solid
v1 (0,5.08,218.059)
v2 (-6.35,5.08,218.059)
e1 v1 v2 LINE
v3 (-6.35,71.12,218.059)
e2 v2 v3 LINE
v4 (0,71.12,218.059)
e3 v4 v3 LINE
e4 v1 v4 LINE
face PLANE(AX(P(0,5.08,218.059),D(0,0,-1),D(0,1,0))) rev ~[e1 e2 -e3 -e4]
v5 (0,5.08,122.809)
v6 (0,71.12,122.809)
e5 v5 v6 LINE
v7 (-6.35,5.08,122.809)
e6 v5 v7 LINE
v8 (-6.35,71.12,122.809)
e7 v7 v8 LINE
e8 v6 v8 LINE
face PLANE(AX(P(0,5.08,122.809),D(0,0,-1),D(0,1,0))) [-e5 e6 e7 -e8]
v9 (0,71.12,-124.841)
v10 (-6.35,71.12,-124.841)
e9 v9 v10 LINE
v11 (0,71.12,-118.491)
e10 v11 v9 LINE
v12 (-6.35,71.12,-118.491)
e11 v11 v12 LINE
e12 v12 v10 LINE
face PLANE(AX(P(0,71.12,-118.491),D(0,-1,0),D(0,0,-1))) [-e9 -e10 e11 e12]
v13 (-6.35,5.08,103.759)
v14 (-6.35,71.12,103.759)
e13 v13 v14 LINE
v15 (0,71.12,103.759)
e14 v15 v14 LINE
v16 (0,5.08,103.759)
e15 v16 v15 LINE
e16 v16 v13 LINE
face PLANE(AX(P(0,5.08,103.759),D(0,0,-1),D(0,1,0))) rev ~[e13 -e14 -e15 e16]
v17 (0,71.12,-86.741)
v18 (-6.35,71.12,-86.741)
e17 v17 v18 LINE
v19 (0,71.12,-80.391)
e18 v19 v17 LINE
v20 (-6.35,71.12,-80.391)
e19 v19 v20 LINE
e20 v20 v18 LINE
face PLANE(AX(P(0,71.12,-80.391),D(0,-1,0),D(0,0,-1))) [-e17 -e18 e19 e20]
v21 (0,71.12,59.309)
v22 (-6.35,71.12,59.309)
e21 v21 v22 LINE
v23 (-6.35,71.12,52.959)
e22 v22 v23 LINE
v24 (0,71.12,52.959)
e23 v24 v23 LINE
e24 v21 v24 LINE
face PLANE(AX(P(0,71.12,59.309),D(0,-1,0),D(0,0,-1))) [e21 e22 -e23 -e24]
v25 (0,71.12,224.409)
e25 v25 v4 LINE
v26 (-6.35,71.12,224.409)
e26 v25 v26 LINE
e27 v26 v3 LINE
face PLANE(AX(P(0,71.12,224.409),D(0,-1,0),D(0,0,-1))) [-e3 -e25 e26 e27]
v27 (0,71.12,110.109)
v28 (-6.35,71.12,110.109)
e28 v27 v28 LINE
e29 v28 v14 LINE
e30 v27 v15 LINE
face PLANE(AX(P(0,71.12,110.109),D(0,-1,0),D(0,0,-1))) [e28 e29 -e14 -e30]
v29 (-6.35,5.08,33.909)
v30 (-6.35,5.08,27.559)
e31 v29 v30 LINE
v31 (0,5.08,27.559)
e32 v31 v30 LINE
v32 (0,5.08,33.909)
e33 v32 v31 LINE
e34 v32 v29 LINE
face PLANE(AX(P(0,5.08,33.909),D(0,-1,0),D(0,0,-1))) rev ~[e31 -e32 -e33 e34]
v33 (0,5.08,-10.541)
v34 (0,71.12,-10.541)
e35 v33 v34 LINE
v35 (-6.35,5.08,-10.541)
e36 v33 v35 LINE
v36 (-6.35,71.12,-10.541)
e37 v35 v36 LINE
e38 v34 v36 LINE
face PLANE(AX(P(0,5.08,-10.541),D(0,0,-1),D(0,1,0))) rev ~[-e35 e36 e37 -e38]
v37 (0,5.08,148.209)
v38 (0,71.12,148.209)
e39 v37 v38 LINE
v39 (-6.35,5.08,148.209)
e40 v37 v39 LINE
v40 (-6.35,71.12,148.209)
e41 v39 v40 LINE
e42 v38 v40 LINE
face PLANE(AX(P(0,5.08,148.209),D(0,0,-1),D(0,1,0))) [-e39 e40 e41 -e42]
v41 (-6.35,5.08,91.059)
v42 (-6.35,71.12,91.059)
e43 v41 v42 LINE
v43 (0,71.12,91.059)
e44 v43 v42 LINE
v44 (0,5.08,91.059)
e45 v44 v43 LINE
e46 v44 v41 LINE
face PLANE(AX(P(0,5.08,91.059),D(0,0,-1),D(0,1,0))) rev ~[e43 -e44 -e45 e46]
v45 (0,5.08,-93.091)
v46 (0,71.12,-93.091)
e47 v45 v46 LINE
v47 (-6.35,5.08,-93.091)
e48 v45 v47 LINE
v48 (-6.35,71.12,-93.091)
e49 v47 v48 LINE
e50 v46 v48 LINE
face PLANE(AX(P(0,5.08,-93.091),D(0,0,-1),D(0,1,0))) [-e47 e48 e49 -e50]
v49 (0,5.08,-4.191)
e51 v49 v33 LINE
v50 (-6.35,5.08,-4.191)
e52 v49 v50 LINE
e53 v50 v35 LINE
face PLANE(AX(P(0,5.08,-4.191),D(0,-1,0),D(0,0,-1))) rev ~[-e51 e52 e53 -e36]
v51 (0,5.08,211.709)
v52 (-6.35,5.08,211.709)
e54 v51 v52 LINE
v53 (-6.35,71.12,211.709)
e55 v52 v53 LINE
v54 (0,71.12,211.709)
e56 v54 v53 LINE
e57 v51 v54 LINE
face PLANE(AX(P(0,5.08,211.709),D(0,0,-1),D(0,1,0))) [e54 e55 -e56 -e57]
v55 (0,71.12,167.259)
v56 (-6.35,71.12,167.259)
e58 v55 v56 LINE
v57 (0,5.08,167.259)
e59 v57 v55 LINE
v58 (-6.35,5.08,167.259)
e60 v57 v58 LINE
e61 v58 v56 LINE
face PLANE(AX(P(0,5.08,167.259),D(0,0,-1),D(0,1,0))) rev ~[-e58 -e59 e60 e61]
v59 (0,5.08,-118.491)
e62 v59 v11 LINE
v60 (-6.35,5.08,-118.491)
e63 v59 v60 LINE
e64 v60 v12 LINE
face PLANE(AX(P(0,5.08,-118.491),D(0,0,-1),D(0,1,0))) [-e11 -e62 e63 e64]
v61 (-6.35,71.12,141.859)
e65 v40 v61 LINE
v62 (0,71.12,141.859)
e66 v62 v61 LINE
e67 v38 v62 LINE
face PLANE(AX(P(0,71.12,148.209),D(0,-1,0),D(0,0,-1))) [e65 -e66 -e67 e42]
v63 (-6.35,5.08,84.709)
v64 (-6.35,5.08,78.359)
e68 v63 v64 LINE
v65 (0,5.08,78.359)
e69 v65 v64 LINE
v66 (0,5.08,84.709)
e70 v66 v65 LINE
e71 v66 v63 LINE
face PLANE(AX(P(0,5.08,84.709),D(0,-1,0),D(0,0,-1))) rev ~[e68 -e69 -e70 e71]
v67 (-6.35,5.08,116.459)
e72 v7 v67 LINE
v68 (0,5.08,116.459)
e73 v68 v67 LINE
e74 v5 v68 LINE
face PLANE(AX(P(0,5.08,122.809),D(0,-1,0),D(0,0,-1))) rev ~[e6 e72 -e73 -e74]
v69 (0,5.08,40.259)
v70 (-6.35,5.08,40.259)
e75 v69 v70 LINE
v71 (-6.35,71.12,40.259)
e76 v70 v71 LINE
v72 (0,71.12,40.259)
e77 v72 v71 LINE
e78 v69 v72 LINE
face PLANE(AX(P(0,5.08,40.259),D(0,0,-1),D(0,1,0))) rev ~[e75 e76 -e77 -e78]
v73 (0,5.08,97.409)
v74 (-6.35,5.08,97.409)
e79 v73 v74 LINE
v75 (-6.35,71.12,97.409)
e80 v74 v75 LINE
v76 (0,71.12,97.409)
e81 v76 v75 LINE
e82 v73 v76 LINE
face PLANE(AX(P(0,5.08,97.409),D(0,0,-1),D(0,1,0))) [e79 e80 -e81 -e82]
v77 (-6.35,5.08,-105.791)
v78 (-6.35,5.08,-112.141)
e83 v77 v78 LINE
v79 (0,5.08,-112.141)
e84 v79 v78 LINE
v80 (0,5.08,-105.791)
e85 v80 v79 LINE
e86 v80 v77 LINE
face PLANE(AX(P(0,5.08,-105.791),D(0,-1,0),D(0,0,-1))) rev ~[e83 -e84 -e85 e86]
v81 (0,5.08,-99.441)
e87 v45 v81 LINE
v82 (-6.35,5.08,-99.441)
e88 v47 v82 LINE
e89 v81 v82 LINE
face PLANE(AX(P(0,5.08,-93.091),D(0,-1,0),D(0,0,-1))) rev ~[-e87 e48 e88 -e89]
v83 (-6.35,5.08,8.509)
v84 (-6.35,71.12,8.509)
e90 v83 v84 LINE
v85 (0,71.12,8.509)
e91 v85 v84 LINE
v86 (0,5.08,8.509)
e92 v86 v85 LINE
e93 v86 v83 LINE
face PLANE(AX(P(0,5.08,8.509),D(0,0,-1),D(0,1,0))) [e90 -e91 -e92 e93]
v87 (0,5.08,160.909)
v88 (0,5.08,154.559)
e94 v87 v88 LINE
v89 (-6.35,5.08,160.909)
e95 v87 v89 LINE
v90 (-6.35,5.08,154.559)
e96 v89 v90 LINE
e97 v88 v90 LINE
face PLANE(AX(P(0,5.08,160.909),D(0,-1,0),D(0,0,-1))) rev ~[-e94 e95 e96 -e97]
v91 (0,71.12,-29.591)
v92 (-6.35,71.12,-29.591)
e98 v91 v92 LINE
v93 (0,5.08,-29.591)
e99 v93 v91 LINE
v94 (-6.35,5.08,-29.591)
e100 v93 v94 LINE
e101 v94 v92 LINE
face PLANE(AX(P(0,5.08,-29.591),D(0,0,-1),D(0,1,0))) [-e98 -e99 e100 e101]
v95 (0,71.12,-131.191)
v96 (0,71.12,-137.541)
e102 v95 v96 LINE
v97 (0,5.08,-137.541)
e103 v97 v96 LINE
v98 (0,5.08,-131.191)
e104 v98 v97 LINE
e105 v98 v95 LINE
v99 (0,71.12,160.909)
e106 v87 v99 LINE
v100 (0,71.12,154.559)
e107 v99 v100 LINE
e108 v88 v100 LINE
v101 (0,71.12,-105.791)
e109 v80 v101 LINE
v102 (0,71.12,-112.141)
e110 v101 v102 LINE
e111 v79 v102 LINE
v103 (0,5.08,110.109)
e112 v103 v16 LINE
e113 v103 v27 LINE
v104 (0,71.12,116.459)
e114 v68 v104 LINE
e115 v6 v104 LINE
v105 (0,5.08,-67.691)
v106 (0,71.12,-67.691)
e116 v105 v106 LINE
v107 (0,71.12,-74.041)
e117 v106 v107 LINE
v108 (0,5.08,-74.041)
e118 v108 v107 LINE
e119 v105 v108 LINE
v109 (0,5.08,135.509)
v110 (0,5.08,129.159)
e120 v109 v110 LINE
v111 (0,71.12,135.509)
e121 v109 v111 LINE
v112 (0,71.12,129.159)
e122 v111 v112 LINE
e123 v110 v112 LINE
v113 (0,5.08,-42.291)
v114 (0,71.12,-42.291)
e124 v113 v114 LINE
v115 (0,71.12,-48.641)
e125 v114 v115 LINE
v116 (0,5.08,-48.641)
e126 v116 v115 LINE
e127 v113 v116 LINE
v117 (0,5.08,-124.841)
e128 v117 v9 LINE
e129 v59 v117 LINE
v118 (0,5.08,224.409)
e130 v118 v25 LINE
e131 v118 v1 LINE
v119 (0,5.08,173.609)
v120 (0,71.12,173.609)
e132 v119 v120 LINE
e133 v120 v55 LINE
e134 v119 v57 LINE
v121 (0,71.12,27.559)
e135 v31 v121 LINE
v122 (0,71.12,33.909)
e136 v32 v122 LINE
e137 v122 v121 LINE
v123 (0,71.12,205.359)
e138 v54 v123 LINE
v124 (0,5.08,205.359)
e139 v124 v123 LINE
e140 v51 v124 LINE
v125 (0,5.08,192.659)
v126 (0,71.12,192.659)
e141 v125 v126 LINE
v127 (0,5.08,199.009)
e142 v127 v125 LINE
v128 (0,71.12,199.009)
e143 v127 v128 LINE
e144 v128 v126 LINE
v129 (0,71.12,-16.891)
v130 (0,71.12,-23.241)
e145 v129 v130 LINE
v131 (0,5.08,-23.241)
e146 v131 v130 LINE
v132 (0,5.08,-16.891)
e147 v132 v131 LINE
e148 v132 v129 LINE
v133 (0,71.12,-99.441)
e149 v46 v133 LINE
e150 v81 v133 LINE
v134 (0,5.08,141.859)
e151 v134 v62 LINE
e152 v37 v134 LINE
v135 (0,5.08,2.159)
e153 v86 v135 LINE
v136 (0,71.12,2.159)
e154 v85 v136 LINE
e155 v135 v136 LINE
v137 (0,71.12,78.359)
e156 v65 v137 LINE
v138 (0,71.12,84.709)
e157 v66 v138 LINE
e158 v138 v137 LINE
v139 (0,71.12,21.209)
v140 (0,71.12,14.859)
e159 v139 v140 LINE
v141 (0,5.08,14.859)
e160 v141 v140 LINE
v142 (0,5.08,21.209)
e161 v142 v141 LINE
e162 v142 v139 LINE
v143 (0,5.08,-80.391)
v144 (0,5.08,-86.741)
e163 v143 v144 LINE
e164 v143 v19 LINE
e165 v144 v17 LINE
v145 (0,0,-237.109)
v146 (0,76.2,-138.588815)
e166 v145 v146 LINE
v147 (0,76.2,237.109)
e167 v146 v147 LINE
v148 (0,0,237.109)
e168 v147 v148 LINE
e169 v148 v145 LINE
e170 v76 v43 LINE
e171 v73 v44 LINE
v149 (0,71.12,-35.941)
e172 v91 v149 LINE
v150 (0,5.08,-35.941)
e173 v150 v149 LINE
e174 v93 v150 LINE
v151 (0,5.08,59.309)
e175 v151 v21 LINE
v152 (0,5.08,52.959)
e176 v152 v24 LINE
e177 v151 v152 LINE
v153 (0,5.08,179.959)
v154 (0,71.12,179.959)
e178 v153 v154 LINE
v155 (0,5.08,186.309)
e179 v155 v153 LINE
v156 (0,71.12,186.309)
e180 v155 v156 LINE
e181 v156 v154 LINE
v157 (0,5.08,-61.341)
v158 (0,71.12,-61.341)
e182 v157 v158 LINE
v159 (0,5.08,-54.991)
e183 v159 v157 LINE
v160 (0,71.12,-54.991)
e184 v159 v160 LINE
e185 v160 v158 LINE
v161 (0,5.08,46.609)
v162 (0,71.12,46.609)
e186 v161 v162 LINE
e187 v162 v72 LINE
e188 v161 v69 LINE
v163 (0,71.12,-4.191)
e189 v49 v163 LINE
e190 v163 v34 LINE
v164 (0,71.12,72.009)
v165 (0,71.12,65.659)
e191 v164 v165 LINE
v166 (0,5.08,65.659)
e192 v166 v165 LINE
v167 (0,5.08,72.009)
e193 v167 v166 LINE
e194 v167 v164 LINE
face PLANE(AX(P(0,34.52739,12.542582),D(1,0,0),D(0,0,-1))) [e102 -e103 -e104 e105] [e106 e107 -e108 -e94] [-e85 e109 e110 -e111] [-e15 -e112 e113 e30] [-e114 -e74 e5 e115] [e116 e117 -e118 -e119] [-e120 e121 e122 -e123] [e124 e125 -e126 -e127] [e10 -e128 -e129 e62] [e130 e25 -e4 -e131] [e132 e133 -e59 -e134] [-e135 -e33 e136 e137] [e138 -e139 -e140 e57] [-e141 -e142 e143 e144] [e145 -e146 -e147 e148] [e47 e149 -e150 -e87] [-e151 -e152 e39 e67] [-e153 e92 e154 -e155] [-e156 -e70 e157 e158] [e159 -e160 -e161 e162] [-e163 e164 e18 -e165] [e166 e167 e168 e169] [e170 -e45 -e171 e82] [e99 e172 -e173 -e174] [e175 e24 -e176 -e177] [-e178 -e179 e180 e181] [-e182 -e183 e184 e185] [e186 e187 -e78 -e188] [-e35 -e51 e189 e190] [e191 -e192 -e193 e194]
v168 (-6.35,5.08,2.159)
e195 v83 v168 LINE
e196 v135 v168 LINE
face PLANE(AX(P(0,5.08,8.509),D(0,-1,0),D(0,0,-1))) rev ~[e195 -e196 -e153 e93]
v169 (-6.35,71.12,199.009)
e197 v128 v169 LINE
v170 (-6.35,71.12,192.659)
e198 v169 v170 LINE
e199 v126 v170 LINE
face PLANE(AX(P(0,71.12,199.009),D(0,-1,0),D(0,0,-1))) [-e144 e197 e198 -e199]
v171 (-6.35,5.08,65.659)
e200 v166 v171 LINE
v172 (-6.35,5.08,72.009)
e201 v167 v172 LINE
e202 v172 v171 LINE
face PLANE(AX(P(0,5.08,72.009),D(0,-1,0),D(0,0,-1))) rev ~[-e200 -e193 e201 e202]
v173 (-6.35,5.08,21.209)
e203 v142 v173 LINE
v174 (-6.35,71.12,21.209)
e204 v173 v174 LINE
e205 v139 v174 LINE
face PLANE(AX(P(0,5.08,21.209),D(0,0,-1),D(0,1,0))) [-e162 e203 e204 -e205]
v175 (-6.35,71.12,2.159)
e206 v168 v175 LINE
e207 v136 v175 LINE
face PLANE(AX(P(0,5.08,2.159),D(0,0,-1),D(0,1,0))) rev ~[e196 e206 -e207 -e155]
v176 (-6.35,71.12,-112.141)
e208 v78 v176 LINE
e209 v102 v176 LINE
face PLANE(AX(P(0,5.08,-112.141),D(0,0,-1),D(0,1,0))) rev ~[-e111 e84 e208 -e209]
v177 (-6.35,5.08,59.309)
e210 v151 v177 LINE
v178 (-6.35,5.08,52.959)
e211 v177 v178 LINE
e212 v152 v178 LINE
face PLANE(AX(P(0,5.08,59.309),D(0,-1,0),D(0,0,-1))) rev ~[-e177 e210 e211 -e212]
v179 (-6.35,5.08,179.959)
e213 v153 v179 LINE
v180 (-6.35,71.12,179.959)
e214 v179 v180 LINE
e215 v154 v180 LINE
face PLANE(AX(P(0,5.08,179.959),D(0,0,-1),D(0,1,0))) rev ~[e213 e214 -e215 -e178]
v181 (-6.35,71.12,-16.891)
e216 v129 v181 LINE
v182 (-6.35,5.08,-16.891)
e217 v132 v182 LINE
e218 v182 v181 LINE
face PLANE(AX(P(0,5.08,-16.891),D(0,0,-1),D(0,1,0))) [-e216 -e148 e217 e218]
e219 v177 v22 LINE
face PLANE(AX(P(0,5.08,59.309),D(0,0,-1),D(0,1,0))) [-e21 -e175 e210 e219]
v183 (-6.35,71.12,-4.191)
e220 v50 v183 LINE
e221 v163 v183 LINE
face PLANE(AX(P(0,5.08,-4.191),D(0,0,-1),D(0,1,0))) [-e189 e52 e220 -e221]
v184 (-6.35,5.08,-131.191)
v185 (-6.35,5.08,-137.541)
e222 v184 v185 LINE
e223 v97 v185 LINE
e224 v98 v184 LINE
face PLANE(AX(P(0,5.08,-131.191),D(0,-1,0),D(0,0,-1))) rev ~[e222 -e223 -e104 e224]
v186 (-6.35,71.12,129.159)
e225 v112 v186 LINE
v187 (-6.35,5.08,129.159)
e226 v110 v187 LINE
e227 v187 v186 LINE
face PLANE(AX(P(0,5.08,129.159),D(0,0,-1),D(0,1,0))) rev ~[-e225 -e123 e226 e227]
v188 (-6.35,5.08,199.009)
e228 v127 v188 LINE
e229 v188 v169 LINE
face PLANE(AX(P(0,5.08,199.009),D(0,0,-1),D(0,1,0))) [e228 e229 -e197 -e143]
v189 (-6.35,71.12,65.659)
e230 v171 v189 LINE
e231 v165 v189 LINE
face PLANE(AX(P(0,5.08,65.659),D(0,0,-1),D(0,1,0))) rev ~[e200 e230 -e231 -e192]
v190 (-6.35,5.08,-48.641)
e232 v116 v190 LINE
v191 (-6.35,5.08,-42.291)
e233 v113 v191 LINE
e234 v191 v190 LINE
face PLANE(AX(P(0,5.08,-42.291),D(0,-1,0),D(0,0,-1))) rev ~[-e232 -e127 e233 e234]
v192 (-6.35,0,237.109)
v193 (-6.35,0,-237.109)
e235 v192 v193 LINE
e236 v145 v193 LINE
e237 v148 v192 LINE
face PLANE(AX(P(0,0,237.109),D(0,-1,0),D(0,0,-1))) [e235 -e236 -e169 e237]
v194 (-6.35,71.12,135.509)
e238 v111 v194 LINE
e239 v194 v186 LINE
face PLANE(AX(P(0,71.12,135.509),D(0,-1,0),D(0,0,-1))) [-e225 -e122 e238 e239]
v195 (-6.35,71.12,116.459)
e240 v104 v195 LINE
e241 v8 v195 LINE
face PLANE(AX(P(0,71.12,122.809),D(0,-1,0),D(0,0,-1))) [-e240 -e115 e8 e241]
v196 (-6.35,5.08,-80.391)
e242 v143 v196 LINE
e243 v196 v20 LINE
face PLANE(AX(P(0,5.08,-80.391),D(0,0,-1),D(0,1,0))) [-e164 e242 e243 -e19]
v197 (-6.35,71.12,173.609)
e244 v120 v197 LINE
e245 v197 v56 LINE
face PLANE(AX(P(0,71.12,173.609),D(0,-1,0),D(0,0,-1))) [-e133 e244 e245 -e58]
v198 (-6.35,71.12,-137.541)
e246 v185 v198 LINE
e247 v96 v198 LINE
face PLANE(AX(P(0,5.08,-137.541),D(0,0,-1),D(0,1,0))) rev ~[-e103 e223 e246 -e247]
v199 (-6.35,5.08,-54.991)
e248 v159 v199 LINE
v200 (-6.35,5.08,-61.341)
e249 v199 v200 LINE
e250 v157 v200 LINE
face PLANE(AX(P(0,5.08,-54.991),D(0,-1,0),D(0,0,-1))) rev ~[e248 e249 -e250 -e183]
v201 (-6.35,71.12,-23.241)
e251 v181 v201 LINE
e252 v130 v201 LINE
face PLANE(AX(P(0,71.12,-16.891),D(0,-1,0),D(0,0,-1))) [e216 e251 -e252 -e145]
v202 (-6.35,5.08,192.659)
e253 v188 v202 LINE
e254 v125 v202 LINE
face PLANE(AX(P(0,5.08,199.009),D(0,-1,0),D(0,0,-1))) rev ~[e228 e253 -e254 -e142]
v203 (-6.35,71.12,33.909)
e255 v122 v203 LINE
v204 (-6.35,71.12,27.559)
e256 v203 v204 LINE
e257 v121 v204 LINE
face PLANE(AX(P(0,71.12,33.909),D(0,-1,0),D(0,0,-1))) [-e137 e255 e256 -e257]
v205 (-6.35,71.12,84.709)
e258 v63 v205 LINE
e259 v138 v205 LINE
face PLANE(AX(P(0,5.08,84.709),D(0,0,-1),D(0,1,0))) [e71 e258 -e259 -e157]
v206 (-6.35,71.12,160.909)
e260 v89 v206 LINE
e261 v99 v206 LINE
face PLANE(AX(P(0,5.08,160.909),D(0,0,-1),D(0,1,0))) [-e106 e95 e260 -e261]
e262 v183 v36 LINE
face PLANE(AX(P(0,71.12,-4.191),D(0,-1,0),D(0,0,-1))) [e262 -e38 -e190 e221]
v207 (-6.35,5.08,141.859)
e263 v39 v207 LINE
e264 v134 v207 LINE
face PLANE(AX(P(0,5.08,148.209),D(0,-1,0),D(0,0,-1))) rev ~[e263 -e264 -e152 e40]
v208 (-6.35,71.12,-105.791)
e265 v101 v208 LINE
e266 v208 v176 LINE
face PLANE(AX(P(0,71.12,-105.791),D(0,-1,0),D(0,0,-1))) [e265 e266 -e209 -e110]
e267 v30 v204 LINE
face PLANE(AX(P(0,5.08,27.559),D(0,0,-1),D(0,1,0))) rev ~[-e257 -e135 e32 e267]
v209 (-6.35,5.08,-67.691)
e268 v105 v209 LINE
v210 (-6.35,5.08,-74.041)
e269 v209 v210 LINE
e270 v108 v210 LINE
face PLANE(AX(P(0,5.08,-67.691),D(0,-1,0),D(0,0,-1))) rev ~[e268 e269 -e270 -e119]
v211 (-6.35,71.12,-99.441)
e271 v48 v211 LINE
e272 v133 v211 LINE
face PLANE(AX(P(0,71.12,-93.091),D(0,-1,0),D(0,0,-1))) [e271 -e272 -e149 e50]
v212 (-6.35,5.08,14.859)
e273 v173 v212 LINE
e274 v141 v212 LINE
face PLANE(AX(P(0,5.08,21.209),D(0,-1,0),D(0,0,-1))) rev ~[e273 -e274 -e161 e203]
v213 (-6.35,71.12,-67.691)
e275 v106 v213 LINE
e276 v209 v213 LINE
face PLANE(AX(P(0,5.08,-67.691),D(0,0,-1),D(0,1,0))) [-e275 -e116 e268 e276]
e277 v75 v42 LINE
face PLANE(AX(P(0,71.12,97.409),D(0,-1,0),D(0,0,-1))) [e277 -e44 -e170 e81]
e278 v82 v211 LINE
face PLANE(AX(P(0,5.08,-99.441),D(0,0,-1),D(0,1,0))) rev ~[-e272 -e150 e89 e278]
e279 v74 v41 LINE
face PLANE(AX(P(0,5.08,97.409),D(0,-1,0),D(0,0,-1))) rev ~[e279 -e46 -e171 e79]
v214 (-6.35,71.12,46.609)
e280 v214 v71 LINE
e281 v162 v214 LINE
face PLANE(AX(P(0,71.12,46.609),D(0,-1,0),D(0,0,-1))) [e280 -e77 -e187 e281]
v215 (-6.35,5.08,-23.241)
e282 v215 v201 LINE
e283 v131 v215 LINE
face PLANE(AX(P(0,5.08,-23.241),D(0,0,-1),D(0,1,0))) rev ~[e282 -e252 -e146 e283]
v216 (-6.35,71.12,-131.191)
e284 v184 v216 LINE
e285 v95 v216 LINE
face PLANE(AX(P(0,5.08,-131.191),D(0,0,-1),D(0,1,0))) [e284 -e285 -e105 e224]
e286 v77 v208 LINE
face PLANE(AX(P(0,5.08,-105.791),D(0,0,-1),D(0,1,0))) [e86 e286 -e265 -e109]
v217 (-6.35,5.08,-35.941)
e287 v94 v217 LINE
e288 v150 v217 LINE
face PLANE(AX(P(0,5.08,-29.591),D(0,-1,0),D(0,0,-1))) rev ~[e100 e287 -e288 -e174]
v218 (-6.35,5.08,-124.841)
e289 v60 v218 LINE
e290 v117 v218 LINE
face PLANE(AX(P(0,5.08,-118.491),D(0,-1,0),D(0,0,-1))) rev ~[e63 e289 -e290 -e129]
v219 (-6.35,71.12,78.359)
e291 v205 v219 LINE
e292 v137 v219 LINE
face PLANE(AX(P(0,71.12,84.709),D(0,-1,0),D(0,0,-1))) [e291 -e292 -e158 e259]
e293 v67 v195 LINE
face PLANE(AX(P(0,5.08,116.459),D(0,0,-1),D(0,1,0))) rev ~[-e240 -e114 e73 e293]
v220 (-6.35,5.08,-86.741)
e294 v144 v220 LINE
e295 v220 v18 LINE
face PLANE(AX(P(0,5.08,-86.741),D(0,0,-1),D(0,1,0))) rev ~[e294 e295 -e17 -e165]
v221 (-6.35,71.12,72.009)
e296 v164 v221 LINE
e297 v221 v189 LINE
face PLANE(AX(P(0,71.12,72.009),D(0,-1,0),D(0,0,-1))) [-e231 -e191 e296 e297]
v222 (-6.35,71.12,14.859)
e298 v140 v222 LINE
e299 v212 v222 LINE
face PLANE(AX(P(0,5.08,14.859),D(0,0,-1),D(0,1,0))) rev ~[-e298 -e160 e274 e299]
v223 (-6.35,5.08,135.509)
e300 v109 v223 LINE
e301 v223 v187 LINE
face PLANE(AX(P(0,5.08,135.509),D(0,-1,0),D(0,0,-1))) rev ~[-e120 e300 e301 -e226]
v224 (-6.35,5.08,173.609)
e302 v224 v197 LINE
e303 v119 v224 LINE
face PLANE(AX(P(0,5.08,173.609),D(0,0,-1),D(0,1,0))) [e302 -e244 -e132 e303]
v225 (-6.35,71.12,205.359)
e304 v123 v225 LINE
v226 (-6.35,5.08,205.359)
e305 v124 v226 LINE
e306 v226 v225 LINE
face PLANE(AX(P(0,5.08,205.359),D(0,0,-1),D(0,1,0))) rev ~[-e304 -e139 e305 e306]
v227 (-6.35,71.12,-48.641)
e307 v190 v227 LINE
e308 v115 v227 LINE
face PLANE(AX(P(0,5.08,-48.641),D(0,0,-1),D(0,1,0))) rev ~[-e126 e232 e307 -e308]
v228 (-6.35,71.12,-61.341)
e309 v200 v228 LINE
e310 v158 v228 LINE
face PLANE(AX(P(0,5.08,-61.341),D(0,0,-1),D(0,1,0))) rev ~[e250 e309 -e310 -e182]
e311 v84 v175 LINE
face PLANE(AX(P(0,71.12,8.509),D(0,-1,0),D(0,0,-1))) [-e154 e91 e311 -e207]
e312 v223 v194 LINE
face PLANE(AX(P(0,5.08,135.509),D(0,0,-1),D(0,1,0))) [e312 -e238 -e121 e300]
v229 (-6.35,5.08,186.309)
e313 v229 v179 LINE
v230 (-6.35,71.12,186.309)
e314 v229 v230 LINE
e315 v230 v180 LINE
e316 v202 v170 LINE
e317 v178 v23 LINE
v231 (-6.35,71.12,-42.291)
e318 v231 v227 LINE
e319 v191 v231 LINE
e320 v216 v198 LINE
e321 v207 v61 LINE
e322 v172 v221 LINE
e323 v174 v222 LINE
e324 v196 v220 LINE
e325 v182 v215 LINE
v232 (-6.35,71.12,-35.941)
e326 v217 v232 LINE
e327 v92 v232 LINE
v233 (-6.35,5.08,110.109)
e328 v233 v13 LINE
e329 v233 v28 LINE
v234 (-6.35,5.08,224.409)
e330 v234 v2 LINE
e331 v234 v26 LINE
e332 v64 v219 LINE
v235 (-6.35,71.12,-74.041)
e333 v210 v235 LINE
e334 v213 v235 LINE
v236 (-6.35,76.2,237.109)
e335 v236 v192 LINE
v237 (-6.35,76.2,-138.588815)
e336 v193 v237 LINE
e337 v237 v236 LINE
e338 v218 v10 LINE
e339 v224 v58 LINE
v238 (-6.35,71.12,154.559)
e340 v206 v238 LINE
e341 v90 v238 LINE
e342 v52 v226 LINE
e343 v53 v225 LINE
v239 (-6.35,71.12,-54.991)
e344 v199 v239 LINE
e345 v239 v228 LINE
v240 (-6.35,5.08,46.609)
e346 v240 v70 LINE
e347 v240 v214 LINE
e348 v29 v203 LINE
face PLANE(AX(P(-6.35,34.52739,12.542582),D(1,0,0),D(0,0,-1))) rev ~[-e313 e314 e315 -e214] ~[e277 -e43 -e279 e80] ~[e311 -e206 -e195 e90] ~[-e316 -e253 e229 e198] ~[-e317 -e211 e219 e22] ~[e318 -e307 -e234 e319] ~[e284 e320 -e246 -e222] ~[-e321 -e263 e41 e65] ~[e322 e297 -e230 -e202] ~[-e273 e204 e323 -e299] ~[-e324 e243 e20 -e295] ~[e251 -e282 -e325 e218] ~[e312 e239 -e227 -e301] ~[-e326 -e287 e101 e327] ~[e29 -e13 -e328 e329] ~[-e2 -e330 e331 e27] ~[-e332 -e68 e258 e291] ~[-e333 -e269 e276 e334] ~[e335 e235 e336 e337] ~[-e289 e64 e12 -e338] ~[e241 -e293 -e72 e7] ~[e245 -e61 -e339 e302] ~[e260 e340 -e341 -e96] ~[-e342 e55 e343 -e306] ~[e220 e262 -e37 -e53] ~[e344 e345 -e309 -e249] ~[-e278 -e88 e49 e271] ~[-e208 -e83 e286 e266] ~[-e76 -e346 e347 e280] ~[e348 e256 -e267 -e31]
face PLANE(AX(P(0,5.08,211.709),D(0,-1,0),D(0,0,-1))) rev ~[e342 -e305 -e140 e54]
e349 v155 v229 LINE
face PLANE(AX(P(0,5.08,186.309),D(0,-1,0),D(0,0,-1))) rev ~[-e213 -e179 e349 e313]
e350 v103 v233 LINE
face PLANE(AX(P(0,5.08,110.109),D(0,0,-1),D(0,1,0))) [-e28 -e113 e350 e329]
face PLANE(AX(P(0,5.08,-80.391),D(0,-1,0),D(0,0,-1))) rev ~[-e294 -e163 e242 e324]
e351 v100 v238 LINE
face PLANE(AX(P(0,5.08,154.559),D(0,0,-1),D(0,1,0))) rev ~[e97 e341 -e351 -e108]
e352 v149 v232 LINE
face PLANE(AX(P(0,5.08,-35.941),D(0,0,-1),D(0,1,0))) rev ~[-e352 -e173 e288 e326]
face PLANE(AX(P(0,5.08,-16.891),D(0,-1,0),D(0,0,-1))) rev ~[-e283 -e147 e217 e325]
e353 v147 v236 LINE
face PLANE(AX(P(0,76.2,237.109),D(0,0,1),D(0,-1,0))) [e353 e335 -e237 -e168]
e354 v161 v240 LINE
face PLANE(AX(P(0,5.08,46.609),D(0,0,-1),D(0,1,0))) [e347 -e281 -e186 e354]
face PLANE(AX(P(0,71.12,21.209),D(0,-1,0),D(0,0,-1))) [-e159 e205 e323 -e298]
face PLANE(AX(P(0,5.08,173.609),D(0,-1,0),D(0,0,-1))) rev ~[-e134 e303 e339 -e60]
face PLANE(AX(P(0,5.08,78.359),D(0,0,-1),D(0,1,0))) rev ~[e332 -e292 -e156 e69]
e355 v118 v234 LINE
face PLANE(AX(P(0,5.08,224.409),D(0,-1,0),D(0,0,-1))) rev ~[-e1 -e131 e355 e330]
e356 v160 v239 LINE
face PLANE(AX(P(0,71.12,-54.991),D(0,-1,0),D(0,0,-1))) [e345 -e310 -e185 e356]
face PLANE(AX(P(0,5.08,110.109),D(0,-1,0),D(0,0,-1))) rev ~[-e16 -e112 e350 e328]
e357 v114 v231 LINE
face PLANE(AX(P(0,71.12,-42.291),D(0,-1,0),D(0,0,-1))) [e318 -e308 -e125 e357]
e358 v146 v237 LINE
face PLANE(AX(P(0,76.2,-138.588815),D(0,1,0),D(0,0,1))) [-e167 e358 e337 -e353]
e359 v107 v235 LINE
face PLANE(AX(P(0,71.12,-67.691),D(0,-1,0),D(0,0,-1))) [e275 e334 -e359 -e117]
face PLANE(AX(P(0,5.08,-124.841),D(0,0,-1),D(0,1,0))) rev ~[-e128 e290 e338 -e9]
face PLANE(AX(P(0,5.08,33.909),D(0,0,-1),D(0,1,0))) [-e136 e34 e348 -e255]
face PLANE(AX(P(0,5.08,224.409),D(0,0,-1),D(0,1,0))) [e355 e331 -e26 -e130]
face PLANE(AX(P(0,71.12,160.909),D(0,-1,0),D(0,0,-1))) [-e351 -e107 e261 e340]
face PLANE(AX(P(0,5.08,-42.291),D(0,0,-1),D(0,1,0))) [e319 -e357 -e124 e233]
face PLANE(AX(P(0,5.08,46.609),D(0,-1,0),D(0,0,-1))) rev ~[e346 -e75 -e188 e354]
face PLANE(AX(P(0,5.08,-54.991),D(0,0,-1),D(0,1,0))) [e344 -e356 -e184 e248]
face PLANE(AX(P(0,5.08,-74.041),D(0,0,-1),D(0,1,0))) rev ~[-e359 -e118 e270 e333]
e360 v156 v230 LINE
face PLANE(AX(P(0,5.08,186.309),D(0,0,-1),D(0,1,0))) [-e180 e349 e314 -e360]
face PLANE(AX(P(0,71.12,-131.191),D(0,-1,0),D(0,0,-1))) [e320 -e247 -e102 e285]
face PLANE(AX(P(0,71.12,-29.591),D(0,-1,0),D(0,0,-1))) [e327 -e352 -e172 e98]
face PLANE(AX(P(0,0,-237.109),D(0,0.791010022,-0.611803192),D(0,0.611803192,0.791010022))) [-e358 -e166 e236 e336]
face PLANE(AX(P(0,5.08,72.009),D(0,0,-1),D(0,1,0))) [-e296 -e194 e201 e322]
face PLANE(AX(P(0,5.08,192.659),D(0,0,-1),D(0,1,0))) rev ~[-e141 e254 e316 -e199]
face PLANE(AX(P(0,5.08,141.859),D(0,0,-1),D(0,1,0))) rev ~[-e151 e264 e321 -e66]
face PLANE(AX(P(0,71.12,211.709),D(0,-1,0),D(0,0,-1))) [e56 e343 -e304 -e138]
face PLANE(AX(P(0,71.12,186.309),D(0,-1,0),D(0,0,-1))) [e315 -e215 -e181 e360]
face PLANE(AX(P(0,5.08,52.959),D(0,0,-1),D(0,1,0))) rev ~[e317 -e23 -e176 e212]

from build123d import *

# Parameters (mm, degrees)
SKETCH1_W           = 6.35
SKETCH1_H           = 66.04
BOSS_EXTRUDE1_DEPTH = 6.35


with BuildPart() as part:
    # Sketch1 → Boss-Extrude1 (new body)
    with BuildSketch(Plane(origin=(0, 0, 0), x_dir=(0, 0, -1), z_dir=(1, 0, 0))):
        Polygon((-237.109, 0), (237.109, 0), (138.588815033, 76.2), (-237.109, 76.2), align=None)
        with Locations((-208.534, 38.1)):
            Rectangle(SKETCH1_W, SKETCH1_H, mode=Mode.SUBTRACT)
        with Locations((-221.234, 38.1)):
            Rectangle(SKETCH1_W, SKETCH1_H, mode=Mode.SUBTRACT)
        with Locations((-195.834, 38.1)):
            Rectangle(SKETCH1_W, SKETCH1_H, mode=Mode.SUBTRACT)
        with Locations((-183.134, 38.1)):
            Rectangle(SKETCH1_W, SKETCH1_H, mode=Mode.SUBTRACT)
        with Locations((-170.434, 38.1)):
            Rectangle(SKETCH1_W, SKETCH1_H, mode=Mode.SUBTRACT)
        with Locations((-157.734, 38.1)):
            Rectangle(SKETCH1_W, SKETCH1_H, mode=Mode.SUBTRACT)
        with Locations((-145.034, 38.1)):
            Rectangle(SKETCH1_W, SKETCH1_H, mode=Mode.SUBTRACT)
        with Locations((-132.334, 38.1)):
            Rectangle(SKETCH1_W, SKETCH1_H, mode=Mode.SUBTRACT)
        with Locations((-119.634, 38.1)):
            Rectangle(SKETCH1_W, SKETCH1_H, mode=Mode.SUBTRACT)
        with Locations((-106.934, 38.1)):
            Rectangle(SKETCH1_W, SKETCH1_H, mode=Mode.SUBTRACT)
        with Locations((-94.234, 38.1)):
            Rectangle(SKETCH1_W, SKETCH1_H, mode=Mode.SUBTRACT)
        with Locations((-81.534, 38.1)):
            Rectangle(SKETCH1_W, SKETCH1_H, mode=Mode.SUBTRACT)
        with Locations((-68.834, 38.1)):
            Rectangle(SKETCH1_W, SKETCH1_H, mode=Mode.SUBTRACT)
        with Locations((-56.134, 38.1)):
            Rectangle(SKETCH1_W, SKETCH1_H, mode=Mode.SUBTRACT)
        with Locations((-43.434, 38.1)):
            Rectangle(SKETCH1_W, SKETCH1_H, mode=Mode.SUBTRACT)
        with Locations((-30.734, 38.1)):
            Rectangle(SKETCH1_W, SKETCH1_H, mode=Mode.SUBTRACT)
        with Locations((-18.034, 38.1)):
            Rectangle(SKETCH1_W, SKETCH1_H, mode=Mode.SUBTRACT)
        with Locations((-5.334, 38.1)):
            Rectangle(SKETCH1_W, SKETCH1_H, mode=Mode.SUBTRACT)
        with Locations((7.366, 38.1)):
            Rectangle(SKETCH1_W, SKETCH1_H, mode=Mode.SUBTRACT)
        with Locations((20.066, 38.1)):
            Rectangle(SKETCH1_W, SKETCH1_H, mode=Mode.SUBTRACT)
        with Locations((32.766, 38.1)):
            Rectangle(SKETCH1_W, SKETCH1_H, mode=Mode.SUBTRACT)
        with Locations((45.466, 38.1)):
            Rectangle(SKETCH1_W, SKETCH1_H, mode=Mode.SUBTRACT)
        with Locations((58.166, 38.1)):
            Rectangle(SKETCH1_W, SKETCH1_H, mode=Mode.SUBTRACT)
        with Locations((70.866, 38.1)):
            Rectangle(SKETCH1_W, SKETCH1_H, mode=Mode.SUBTRACT)
        with Locations((83.566, 38.1)):
            Rectangle(SKETCH1_W, SKETCH1_H, mode=Mode.SUBTRACT)
        with Locations((96.266, 38.1)):
            Rectangle(SKETCH1_W, SKETCH1_H, mode=Mode.SUBTRACT)
        with Locations((108.966, 38.1)):
            Rectangle(SKETCH1_W, SKETCH1_H, mode=Mode.SUBTRACT)
        with Locations((121.666, 38.1)):
            Rectangle(SKETCH1_W, SKETCH1_H, mode=Mode.SUBTRACT)
        with Locations((134.366, 38.1)):
            Rectangle(SKETCH1_W, SKETCH1_H, mode=Mode.SUBTRACT)
    extrude(amount=-BOSS_EXTRUDE1_DEPTH)


solid = part.part
